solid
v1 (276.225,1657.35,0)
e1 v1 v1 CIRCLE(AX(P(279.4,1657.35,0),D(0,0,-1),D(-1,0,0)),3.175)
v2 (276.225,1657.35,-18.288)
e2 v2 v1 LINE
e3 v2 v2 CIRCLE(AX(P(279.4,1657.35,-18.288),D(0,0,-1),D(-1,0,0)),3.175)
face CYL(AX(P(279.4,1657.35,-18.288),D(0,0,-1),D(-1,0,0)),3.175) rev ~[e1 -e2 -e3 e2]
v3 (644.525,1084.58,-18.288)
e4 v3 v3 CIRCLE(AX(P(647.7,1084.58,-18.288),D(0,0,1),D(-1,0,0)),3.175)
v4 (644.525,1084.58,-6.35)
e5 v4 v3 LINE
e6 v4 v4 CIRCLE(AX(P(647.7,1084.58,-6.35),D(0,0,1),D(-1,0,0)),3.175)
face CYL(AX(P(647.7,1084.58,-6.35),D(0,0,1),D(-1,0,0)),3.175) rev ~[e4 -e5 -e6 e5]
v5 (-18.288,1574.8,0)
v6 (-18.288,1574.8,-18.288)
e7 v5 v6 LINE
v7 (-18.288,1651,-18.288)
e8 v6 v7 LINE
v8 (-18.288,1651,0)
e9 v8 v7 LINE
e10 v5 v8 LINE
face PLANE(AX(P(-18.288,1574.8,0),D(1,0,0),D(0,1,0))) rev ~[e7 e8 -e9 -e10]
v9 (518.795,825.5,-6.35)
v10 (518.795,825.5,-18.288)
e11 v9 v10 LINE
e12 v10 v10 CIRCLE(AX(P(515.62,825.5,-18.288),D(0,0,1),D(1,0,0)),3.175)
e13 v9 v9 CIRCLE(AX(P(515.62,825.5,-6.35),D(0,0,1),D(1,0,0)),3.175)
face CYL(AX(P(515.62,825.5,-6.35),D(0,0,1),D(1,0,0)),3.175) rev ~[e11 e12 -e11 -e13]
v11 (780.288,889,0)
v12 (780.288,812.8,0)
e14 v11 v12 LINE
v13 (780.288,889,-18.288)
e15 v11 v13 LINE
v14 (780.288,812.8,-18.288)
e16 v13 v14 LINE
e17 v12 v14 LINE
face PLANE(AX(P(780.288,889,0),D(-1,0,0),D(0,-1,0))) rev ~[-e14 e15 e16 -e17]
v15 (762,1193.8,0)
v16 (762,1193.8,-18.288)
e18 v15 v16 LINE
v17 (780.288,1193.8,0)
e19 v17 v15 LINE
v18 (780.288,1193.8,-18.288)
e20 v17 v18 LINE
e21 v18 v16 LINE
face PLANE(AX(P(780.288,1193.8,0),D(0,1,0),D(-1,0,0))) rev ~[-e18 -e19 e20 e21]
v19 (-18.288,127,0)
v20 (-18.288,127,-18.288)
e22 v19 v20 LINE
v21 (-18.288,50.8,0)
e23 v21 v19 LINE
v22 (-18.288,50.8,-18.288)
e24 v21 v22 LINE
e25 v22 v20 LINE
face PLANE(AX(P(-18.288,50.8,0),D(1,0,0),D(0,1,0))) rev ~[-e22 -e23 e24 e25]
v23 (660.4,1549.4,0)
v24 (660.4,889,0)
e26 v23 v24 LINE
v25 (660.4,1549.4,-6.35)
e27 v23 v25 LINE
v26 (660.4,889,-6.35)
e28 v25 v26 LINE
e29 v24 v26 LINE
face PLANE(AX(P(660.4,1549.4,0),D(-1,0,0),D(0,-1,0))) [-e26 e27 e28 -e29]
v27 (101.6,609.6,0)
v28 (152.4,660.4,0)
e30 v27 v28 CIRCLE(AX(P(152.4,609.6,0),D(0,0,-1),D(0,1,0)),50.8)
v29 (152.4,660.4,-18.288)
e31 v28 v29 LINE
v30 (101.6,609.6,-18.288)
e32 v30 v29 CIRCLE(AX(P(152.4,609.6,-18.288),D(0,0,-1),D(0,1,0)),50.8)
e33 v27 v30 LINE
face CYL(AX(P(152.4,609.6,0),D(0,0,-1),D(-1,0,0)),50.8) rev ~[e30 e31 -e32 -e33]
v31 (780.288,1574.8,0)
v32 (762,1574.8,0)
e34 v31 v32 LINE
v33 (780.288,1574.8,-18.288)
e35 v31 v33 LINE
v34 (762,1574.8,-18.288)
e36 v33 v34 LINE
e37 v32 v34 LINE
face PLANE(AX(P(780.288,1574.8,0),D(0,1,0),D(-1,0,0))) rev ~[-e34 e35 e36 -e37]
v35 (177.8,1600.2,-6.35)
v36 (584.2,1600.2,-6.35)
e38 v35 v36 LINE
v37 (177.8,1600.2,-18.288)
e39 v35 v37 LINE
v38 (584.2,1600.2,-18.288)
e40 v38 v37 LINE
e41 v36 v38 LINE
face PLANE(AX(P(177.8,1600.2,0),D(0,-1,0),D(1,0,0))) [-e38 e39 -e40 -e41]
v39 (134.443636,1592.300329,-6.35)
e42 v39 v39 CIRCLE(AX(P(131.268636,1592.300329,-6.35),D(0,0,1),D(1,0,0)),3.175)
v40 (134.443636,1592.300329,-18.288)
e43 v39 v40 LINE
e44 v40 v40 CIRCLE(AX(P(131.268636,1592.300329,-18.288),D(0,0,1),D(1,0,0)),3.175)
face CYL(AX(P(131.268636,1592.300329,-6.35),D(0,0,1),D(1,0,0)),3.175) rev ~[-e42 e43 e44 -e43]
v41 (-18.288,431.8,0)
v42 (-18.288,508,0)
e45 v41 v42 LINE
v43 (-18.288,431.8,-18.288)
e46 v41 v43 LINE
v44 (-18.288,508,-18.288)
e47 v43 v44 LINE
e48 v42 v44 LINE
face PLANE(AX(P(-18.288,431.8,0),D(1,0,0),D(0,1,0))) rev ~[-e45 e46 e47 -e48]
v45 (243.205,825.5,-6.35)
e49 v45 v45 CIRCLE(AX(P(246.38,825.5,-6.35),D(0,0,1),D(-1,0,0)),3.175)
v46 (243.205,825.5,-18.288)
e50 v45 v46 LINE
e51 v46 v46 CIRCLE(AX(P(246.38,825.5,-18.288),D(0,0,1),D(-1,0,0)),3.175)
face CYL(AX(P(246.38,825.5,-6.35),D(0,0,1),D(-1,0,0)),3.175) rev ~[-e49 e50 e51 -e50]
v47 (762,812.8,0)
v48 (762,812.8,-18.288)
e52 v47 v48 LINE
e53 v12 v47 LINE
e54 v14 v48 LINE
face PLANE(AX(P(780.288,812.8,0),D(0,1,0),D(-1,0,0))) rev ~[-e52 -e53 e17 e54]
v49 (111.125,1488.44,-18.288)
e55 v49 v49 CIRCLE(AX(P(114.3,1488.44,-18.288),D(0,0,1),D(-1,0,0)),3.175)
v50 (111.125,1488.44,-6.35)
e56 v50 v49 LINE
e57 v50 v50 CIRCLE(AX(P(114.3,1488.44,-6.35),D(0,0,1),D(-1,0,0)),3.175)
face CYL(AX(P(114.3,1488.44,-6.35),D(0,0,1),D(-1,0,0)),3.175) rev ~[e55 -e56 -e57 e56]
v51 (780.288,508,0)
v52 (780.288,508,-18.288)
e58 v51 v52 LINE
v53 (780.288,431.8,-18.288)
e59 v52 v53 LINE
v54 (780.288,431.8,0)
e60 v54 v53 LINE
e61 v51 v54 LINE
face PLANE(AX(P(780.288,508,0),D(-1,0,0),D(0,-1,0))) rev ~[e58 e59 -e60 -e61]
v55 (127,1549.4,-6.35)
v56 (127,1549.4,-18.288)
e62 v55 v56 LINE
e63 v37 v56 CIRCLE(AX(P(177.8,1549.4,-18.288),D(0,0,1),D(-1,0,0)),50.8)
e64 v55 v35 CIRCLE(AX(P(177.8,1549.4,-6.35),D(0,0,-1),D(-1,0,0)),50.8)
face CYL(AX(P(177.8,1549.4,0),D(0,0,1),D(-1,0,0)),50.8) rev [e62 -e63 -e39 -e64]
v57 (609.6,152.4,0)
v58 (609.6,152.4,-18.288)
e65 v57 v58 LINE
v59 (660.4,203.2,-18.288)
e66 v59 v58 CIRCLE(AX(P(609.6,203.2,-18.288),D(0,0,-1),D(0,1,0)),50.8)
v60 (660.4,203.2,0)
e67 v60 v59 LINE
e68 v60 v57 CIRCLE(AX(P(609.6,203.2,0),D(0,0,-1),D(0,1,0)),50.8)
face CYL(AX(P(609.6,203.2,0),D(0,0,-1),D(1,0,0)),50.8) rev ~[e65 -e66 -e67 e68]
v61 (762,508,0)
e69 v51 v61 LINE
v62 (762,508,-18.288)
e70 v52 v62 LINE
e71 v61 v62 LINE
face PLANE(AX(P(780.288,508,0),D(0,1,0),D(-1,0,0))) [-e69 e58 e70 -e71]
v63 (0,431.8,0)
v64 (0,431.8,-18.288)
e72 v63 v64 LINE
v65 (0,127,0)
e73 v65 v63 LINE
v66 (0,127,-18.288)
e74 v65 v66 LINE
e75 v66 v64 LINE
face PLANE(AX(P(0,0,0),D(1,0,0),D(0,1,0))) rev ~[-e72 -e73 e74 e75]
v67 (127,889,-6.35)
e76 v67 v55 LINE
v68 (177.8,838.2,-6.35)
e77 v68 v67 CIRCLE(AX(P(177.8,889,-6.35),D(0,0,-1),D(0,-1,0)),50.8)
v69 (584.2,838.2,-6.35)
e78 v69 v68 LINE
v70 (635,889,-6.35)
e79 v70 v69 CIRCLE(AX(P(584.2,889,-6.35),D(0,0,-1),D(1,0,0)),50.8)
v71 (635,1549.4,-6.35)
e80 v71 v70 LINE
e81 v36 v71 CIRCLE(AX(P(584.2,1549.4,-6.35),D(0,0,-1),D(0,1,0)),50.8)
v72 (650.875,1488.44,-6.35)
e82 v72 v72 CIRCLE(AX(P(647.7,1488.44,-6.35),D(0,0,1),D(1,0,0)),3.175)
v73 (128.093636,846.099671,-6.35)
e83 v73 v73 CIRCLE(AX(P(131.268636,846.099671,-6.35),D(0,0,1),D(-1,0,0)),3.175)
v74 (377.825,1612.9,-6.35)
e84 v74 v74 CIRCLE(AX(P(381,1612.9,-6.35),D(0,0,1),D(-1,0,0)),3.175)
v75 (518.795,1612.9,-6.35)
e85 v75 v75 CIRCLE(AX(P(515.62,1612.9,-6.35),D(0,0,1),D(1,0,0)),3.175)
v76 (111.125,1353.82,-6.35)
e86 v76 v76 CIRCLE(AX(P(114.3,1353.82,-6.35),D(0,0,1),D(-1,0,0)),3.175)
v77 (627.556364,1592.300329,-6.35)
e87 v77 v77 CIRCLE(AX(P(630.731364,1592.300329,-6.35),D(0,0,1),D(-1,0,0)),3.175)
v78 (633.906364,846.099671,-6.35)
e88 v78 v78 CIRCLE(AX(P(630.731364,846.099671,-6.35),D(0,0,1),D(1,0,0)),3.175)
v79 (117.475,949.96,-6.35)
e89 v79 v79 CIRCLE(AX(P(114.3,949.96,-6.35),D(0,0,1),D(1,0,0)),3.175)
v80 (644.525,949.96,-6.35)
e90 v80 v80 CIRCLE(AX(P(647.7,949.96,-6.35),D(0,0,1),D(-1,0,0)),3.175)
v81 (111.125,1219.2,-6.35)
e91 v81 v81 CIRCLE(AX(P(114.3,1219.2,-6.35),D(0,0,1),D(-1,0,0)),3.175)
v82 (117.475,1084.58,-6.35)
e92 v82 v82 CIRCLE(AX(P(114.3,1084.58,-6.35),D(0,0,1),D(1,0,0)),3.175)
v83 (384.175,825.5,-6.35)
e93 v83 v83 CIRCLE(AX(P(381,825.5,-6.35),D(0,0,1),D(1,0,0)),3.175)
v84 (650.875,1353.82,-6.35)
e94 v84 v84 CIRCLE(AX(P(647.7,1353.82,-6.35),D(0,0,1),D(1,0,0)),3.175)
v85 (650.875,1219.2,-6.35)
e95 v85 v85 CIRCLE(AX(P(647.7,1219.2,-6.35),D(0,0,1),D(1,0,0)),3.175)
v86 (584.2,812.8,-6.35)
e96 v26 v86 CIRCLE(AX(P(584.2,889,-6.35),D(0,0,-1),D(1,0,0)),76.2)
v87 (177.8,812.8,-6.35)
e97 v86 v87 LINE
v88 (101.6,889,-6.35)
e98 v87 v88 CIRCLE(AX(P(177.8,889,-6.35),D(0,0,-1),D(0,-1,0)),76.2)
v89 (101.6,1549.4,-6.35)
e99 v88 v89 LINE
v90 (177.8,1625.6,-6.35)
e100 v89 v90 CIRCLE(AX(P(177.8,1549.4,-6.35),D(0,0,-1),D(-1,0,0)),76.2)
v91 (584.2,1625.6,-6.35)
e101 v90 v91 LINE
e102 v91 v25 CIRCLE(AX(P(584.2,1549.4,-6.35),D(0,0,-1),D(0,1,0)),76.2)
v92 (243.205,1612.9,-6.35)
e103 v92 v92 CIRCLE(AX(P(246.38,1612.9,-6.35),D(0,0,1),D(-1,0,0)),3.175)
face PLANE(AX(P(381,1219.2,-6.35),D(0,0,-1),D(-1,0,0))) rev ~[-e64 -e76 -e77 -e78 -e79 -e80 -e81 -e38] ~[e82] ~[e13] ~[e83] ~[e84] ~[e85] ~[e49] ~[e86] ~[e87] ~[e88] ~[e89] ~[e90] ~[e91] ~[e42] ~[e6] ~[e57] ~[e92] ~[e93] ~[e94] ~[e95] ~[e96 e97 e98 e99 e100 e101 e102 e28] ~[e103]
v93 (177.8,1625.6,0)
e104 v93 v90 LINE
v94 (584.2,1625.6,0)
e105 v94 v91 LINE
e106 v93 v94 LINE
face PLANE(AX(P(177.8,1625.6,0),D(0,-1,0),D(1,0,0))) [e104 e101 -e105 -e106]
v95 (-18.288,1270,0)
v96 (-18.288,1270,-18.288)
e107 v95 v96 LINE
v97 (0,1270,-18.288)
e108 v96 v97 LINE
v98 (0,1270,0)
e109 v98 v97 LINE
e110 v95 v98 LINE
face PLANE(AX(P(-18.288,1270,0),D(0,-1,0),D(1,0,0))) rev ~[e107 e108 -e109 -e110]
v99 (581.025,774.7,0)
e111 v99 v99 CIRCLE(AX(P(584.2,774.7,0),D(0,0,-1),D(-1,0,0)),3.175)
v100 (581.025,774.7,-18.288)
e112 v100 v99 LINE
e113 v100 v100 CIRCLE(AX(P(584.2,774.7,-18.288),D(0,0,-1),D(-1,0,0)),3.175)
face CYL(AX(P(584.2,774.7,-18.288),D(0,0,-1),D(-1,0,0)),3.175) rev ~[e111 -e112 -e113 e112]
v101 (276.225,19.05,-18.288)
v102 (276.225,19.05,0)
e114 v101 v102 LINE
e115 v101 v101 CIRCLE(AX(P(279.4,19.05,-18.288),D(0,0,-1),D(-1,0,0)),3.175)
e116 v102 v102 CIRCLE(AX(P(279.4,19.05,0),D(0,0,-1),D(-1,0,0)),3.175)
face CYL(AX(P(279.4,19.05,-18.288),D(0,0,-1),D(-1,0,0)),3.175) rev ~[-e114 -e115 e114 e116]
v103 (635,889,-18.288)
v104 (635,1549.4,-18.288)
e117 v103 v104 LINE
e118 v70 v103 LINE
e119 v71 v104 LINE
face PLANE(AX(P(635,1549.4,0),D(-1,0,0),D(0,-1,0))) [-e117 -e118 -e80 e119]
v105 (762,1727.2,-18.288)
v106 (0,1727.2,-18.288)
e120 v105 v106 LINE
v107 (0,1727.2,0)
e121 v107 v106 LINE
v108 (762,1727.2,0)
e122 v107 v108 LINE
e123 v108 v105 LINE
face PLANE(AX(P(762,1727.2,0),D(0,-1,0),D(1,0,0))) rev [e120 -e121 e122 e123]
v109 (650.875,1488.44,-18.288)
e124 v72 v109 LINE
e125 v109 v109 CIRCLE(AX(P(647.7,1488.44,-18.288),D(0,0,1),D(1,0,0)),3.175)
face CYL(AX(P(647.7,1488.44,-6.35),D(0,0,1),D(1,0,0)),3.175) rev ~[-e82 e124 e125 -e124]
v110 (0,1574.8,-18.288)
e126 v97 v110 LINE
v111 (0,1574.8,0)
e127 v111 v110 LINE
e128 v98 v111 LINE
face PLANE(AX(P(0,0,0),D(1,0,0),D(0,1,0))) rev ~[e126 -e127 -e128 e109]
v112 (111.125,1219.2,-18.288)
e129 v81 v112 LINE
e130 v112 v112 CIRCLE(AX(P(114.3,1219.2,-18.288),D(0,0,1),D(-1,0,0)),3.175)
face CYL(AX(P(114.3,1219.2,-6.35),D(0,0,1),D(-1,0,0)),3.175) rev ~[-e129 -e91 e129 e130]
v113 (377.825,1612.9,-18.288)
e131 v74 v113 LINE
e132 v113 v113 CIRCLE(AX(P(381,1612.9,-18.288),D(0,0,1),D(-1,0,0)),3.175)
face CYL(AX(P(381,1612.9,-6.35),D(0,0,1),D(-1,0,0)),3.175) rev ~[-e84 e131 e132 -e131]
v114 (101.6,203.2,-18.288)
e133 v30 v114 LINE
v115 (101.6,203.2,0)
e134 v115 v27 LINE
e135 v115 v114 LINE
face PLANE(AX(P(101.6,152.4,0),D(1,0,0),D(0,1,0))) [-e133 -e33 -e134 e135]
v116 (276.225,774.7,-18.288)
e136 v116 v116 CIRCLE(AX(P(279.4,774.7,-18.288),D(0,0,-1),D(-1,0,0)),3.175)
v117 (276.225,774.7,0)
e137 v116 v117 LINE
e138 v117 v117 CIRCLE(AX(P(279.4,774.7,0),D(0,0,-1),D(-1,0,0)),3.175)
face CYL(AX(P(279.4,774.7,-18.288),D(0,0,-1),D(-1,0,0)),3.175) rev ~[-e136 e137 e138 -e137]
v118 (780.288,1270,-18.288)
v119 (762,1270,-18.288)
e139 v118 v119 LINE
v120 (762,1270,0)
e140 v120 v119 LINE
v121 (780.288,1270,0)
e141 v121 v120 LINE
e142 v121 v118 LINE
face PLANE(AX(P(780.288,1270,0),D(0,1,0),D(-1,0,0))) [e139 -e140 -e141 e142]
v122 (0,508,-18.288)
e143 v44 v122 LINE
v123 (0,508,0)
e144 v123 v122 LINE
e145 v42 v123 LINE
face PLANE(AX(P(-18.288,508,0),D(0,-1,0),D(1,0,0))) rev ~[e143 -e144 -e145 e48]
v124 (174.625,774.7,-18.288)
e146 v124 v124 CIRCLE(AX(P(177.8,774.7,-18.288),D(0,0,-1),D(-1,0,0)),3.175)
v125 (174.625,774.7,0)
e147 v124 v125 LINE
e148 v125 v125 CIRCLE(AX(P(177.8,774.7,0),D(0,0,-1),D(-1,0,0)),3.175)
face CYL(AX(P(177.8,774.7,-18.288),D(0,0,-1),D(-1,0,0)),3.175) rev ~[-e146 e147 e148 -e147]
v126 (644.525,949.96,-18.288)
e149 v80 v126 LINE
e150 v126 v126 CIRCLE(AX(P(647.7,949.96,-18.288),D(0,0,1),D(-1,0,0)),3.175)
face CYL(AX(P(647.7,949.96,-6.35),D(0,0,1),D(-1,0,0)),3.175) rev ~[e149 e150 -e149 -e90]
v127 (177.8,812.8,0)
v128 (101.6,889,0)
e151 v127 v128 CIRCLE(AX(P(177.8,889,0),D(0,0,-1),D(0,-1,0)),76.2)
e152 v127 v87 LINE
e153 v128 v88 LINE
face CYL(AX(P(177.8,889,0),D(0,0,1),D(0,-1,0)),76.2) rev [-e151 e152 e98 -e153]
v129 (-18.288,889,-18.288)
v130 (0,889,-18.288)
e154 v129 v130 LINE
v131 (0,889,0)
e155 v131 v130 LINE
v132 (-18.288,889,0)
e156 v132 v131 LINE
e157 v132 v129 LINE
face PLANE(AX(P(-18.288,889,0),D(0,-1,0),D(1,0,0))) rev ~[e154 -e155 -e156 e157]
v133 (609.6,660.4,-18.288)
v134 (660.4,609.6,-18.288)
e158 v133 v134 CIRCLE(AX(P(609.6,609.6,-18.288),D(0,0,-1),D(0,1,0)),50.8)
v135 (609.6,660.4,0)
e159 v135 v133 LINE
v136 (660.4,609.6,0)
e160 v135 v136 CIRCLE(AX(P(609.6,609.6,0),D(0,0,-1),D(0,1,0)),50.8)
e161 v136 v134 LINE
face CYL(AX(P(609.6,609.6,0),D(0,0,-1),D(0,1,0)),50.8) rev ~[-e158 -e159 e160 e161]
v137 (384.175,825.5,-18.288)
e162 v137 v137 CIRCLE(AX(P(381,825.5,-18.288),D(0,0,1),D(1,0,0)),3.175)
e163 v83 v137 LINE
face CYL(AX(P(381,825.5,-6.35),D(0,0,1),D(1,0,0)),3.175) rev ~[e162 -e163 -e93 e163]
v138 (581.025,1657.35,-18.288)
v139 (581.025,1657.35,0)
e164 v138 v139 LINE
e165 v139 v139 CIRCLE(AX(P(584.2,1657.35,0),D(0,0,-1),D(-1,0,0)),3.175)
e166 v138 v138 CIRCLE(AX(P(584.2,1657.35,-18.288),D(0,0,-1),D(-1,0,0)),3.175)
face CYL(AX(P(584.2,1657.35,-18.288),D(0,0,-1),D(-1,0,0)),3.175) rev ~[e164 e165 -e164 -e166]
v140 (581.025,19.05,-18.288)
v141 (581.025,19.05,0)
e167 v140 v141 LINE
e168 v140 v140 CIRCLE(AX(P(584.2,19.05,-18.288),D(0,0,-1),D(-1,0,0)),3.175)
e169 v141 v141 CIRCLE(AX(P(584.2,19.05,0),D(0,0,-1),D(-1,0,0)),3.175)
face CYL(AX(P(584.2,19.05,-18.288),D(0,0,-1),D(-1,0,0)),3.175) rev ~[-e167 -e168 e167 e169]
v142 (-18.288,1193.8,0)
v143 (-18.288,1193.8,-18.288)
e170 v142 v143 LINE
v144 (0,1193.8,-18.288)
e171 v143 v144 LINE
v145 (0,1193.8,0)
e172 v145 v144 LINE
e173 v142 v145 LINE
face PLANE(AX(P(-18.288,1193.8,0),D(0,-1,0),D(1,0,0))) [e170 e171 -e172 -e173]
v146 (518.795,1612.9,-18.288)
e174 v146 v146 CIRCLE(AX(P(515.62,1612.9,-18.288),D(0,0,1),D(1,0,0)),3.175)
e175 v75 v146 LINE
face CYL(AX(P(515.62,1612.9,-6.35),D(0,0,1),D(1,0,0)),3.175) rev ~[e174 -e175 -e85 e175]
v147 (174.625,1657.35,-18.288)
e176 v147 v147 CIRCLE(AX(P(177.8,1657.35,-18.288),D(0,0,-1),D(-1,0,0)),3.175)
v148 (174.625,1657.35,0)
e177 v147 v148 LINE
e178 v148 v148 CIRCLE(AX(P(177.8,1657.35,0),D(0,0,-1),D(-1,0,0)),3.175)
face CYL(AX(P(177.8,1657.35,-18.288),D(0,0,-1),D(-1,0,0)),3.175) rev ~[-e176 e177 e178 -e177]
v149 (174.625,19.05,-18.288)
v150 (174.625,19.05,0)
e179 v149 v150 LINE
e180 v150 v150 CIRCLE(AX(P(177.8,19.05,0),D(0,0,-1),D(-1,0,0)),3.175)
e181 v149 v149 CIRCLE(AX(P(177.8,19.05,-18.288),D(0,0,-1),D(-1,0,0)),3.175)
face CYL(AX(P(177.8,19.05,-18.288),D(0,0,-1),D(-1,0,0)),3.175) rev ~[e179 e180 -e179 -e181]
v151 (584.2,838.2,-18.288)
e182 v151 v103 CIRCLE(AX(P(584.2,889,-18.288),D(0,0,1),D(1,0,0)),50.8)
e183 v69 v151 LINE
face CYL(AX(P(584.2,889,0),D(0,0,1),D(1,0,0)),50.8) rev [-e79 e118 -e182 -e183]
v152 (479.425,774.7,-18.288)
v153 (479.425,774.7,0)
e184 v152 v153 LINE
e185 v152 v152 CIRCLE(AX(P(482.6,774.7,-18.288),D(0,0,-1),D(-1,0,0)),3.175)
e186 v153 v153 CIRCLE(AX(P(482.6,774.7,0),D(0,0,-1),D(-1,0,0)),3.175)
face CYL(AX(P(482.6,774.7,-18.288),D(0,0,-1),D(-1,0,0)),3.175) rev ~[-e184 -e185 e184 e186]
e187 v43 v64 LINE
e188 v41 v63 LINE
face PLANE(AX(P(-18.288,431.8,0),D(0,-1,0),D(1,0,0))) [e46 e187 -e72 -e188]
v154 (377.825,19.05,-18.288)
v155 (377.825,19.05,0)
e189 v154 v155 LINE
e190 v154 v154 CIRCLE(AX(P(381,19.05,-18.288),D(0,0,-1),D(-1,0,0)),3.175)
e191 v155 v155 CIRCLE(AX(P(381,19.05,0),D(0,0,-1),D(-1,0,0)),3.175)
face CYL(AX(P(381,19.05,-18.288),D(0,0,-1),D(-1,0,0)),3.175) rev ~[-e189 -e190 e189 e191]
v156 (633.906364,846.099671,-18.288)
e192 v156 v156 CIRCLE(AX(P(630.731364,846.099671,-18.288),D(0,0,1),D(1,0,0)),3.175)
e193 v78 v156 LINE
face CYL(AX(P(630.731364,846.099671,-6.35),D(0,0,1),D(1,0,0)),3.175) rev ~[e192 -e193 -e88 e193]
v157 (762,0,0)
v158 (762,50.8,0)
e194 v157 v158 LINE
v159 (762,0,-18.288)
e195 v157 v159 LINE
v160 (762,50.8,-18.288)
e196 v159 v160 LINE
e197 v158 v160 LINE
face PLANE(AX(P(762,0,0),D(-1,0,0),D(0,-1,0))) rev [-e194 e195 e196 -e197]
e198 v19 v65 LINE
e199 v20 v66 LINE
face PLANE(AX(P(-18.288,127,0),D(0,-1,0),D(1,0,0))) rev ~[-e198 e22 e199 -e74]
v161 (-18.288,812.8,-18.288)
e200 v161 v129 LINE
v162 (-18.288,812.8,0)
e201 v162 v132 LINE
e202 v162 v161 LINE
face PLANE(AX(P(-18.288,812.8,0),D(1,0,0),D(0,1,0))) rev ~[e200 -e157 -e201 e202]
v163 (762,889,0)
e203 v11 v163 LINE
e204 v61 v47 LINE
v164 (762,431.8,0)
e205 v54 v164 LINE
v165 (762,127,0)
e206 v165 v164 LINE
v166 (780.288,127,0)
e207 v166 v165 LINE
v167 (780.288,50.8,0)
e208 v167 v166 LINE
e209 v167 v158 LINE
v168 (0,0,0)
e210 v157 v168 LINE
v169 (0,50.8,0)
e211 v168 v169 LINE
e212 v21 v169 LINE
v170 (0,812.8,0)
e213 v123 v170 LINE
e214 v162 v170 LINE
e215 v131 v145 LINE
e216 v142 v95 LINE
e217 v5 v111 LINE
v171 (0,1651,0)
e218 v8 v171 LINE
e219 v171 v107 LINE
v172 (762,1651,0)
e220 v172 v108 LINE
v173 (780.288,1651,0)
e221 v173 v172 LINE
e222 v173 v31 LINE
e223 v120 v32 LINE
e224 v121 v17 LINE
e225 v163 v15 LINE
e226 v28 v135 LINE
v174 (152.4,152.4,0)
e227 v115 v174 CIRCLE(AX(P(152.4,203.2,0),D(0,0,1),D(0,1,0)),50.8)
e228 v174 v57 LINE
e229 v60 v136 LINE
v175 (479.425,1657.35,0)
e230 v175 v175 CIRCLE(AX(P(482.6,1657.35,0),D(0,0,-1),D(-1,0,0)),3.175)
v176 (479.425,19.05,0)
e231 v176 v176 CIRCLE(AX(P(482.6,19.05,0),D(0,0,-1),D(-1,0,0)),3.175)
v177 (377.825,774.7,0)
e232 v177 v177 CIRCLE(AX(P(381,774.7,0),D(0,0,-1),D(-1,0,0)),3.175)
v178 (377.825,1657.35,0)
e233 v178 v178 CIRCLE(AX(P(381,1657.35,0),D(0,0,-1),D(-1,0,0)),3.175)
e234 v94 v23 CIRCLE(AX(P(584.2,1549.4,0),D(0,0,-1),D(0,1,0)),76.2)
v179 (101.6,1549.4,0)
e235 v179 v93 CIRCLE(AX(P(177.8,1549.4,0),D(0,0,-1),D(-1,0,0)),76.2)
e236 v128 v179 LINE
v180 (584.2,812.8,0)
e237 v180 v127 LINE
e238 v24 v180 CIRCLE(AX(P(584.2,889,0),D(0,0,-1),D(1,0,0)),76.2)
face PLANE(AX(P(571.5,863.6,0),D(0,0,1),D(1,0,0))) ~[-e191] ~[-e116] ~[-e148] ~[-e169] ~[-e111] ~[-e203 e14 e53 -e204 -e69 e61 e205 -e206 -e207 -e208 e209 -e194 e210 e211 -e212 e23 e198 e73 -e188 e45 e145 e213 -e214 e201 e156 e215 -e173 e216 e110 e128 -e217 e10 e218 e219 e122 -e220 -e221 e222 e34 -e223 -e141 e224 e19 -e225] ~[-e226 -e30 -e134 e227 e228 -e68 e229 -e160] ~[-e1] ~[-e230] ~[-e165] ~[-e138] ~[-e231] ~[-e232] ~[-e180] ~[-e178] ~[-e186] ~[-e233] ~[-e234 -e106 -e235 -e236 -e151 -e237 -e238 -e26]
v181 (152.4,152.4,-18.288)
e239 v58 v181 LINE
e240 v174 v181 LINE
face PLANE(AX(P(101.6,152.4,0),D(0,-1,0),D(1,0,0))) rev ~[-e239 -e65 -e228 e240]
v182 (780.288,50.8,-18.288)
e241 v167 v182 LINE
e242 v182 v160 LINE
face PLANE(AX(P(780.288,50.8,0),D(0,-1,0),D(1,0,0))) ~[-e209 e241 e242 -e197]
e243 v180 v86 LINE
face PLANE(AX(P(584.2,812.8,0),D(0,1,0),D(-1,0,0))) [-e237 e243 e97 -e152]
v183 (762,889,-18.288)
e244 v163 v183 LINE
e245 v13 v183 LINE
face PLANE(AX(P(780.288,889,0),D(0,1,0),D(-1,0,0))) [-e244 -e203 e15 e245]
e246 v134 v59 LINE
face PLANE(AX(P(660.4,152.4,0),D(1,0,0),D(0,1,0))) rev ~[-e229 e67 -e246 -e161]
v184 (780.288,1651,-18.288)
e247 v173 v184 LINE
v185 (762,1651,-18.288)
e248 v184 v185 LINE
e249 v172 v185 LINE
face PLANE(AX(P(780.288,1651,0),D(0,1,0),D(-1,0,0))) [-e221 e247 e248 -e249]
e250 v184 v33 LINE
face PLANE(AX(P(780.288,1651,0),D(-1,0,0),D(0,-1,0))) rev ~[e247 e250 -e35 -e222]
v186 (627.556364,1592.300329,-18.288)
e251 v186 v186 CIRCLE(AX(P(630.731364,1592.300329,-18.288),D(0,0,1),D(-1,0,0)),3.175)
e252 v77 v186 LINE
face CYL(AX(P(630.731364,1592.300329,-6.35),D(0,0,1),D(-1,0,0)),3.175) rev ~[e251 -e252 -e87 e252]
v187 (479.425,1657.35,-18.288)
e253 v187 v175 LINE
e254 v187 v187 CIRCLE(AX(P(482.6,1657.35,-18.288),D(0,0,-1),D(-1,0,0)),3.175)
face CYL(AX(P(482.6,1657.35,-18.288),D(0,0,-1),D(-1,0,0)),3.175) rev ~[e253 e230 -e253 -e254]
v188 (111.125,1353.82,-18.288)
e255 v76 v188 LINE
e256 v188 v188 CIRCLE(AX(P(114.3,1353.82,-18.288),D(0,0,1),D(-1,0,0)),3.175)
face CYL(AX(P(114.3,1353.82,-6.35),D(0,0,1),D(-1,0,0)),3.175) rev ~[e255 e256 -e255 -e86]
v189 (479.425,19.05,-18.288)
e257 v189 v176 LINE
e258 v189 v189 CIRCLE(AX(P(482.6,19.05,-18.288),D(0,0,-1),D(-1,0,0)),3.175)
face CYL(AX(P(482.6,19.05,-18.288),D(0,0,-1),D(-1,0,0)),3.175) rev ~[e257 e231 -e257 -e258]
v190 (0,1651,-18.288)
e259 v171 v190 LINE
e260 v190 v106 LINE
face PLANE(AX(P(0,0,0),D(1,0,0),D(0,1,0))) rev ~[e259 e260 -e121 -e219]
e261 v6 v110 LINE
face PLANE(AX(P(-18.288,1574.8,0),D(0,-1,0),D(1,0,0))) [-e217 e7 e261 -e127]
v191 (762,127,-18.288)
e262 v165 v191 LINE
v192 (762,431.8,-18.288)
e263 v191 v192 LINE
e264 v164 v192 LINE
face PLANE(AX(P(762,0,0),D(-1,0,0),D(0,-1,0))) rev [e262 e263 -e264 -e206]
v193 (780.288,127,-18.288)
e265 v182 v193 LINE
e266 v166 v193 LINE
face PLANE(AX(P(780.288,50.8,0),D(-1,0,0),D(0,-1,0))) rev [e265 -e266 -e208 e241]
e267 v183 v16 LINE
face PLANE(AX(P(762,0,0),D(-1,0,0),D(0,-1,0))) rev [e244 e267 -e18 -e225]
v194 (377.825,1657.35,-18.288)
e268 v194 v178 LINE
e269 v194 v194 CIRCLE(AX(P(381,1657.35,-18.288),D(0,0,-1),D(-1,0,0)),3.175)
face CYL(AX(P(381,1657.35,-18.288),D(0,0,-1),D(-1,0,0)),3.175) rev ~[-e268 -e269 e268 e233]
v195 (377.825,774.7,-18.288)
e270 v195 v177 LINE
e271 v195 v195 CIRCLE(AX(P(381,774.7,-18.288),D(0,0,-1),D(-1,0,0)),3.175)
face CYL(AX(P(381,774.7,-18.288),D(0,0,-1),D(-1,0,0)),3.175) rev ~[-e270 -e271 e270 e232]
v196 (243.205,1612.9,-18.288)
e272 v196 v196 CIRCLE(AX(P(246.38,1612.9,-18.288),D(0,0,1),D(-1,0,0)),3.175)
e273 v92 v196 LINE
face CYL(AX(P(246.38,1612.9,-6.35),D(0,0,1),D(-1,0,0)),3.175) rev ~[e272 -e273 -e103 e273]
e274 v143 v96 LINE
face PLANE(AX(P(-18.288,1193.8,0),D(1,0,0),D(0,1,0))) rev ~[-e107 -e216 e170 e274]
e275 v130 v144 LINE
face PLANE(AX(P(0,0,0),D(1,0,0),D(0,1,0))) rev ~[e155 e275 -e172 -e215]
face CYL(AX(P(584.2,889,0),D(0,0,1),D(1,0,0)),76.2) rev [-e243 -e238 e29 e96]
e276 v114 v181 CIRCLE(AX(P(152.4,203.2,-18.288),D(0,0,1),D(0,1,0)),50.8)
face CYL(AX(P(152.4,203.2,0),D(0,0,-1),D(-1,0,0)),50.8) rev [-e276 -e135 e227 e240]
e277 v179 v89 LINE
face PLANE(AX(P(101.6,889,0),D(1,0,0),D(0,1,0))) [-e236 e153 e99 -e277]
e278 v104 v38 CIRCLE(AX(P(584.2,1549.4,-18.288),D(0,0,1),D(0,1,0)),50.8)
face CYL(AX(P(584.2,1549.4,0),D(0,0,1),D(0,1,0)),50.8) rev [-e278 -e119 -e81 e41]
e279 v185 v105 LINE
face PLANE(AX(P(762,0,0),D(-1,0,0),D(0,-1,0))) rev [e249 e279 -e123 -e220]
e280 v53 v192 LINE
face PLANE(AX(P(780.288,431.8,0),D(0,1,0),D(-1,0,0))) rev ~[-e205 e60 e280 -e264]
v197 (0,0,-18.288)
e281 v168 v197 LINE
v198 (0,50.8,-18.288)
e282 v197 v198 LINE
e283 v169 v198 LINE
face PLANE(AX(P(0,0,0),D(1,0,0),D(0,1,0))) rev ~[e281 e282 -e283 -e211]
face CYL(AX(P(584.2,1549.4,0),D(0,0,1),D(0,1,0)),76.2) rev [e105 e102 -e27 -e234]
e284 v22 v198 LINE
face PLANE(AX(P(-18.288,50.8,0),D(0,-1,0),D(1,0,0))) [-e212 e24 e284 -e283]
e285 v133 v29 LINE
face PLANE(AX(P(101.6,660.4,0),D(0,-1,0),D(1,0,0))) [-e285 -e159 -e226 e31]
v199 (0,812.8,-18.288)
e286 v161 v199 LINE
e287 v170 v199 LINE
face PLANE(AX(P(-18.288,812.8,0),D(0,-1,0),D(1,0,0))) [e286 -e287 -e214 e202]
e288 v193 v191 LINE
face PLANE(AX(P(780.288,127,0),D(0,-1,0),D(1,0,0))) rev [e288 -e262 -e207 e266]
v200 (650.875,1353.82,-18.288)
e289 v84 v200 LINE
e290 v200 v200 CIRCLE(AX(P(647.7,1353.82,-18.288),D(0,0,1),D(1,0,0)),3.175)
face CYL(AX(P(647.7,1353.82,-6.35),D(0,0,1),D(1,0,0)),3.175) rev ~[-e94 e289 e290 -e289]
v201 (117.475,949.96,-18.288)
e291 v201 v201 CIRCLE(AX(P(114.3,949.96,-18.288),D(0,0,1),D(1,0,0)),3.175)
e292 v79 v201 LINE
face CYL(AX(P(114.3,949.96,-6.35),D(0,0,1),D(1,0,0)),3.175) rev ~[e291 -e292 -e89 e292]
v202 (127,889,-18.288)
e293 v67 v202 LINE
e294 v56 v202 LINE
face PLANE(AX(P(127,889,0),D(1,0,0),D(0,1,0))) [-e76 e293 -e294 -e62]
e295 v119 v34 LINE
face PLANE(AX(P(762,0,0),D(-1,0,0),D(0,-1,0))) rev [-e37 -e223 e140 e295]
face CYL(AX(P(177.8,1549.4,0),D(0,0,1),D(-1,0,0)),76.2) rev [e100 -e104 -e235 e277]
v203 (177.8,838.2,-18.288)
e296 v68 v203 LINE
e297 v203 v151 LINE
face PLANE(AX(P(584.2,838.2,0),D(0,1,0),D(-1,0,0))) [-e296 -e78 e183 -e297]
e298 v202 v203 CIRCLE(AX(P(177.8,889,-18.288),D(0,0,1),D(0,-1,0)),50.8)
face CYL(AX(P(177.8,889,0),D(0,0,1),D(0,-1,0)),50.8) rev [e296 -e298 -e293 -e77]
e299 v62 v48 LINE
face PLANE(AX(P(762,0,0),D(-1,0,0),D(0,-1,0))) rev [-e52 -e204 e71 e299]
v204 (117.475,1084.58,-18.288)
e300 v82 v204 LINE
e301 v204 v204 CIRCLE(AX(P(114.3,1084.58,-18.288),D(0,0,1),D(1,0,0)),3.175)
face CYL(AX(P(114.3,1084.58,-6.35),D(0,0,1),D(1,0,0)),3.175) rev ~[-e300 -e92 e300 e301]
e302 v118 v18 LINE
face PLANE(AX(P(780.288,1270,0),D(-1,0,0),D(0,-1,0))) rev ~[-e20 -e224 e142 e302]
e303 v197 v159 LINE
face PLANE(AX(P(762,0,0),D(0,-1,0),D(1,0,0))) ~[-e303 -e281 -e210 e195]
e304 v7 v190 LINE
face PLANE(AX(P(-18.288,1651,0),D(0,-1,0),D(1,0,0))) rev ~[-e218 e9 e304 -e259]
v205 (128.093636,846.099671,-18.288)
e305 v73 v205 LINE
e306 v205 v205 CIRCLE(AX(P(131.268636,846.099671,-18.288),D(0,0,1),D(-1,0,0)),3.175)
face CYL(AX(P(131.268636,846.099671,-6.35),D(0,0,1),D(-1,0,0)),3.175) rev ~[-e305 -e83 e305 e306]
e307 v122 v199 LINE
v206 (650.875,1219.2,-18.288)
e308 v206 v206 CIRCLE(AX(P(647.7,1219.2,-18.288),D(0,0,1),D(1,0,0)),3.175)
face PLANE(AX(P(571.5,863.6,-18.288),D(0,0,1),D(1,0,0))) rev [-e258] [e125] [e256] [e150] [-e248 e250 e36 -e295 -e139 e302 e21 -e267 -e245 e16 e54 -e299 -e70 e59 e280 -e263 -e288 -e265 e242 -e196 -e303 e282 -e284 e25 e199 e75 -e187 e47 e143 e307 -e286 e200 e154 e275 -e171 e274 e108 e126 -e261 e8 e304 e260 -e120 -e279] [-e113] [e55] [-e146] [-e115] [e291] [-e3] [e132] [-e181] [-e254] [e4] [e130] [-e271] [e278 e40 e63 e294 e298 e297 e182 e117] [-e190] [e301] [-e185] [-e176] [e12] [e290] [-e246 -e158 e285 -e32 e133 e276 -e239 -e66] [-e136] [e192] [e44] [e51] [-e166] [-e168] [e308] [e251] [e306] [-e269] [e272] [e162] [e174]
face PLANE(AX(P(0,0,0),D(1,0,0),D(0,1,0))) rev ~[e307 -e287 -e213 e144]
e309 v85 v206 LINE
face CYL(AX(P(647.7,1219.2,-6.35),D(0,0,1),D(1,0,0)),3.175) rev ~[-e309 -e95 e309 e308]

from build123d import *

# Parameters (mm, degrees)
SKETCH2_W               = 381
SKETCH2_H               = 1727.2
BOSS_EXTRUDE1_DEPTH     = 18.288
SKETCH3_W               = 18.288
SKETCH3_H               = 76.2
BOSS_EXTRUDE2_DEPTH     = 18.288
LPATTERN1_COUNT         = 5
LPATTERN1_PITCH         = 381
MIRROR1_COPY_1_SKETCH_W = 18.288
MIRROR1_COPY_1_SKETCH_H = 76.2
MIRROR1_COPY_1_DEPTH    = 18.288
MIRROR1_COPY_2_SKETCH_W = 18.288
MIRROR1_COPY_2_SKETCH_H = 76.2
MIRROR1_COPY_2_DEPTH    = 18.288
MIRROR1_COPY_3_SKETCH_W = 18.288
MIRROR1_COPY_3_SKETCH_H = 76.2
MIRROR1_COPY_3_DEPTH    = 18.288
MIRROR1_COPY_4_SKETCH_W = 18.288
MIRROR1_COPY_4_SKETCH_H = 76.2
MIRROR1_COPY_4_DEPTH    = 18.288
CUT_EXTRUDE2_DEPTH      = 1896.363726014
CUT_EXTRUDE4_DEPTH      = 6.35
SKETCH7_R               = 3.175
CUT_EXTRUDE6_DEPTH      = 25.4
SKETCH8_W               = 558.8
SKETCH8_H               = 508
CUT_EXTRUDE7_DEPTH      = 25.4
FILLET1_R               = 50.8
SKETCH10_R              = 3.175
CUT_EXTRUDE8_DEPTH      = 25.4
SKETCH12_R              = 3.175
CUT_EXTRUDE9_DEPTH      = 1896.363726014
SKETCH13_R              = 3.175
CUT_EXTRUDE10_DEPTH     = 1896.363726014


with BuildPart() as part:
    # Sketch2 → Boss-Extrude1 (new body)
    with BuildSketch(Plane.XY):
        with Locations((190.5, 863.6)):
            Rectangle(SKETCH2_W, SKETCH2_H)
    boss_extrude1 = extrude(amount=-BOSS_EXTRUDE1_DEPTH)

    # Sketch3 → Boss-Extrude2 (add)
    with BuildSketch(Plane.XY):
        with Locations((-9.144, 88.9)):
            Rectangle(SKETCH3_W, SKETCH3_H)
    boss_extrude2 = extrude(amount=-BOSS_EXTRUDE2_DEPTH)

    # LPattern1: Boss-Extrude2 ×5
    with Locations(*[(0, i * LPATTERN1_PITCH, 0) for i in range(1, LPATTERN1_COUNT)]):
        add(boss_extrude2)

    # Mirror1: Boss-Extrude1, Boss-Extrude2 across plane
    add(boss_extrude1.mirror(Plane(origin=(381, 0, -18.288), x_dir=(0, 0, 1), z_dir=(1, 0, 0))))
    add(boss_extrude2.mirror(Plane(origin=(381, 0, -18.288), x_dir=(0, 0, 1), z_dir=(1, 0, 0))))

    # Mirror1 copy 1 sketch → Mirror1 copy 1 (add)
    with BuildSketch(Plane(origin=(762, 381, 0), x_dir=(-1, 0, 0), z_dir=(0, 0, 1))):
        with Locations((-9.144, -88.9)):
            Rectangle(MIRROR1_COPY_1_SKETCH_W, MIRROR1_COPY_1_SKETCH_H)
    extrude(amount=-MIRROR1_COPY_1_DEPTH)

    # Mirror1 copy 2 sketch → Mirror1 copy 2 (add)
    with BuildSketch(Plane(origin=(762, 762, 0), x_dir=(-1, 0, 0), z_dir=(0, 0, 1))):
        with Locations((-9.144, -88.9)):
            Rectangle(MIRROR1_COPY_2_SKETCH_W, MIRROR1_COPY_2_SKETCH_H)
    extrude(amount=-MIRROR1_COPY_2_DEPTH)

    # Mirror1 copy 3 sketch → Mirror1 copy 3 (add)
    with BuildSketch(Plane(origin=(762, 1143, 0), x_dir=(-1, 0, 0), z_dir=(0, 0, 1))):
        with Locations((-9.144, -88.9)):
            Rectangle(MIRROR1_COPY_3_SKETCH_W, MIRROR1_COPY_3_SKETCH_H)
    extrude(amount=-MIRROR1_COPY_3_DEPTH)

    # Mirror1 copy 4 sketch → Mirror1 copy 4 (add)
    with BuildSketch(Plane(origin=(762, 1524, 0), x_dir=(-1, 0, 0), z_dir=(0, 0, 1))):
        with Locations((-9.144, -88.9)):
            Rectangle(MIRROR1_COPY_4_SKETCH_W, MIRROR1_COPY_4_SKETCH_H)
    extrude(amount=-MIRROR1_COPY_4_DEPTH)

    # Sketch4 → Cut-Extrude2 (cut, through all)
    with BuildSketch(Plane.XY):
        with BuildLine():
            Line((177.8, 1600.2), (584.2, 1600.2))
            ThreePointArc((584.2, 1600.2), (620.121024484, 1585.321024484), (635, 1549.4))
            Line((635, 1549.4), (635, 889))
            ThreePointArc((635, 889), (620.121024484, 853.078975516), (584.2, 838.2))
            Line((584.2, 838.2), (177.8, 838.2))
            ThreePointArc((177.8, 838.2), (141.878975516, 853.078975516), (127, 889))
            Line((127, 889), (127, 1549.4))
            ThreePointArc((127, 1549.4), (141.878975516, 1585.321024484), (177.8, 1600.2))
        make_face()
    extrude(amount=-CUT_EXTRUDE2_DEPTH, mode=Mode.SUBTRACT)

    # Sketch5 → Cut-Extrude4 (cut)
    with BuildSketch(Plane.XY):
        with BuildLine():
            Line((177.8, 1625.6), (584.2, 1625.6))
            ThreePointArc((584.2, 1625.6), (638.081536726, 1603.281536726), (660.4, 1549.4))
            Line((660.4, 1549.4), (660.4, 889))
            ThreePointArc((660.4, 889), (638.081536726, 835.118463274), (584.2, 812.8))
            Line((584.2, 812.8), (177.8, 812.8))
            ThreePointArc((177.8, 812.8), (123.918463274, 835.118463274), (101.6, 889))
            Line((101.6, 889), (101.6, 1549.4))
            ThreePointArc((101.6, 1549.4), (123.918463274, 1603.281536726), (177.8, 1625.6))
        make_face()
        with BuildLine():
            Line((177.8, 1600.2), (584.2, 1600.2))
            ThreePointArc((584.2, 1600.2), (620.121024484, 1585.321024484), (635, 1549.4))
            Line((635, 1549.4), (635, 889))
            ThreePointArc((635, 889), (620.121024484, 853.078975516), (584.2, 838.2))
            Line((584.2, 838.2), (177.8, 838.2))
            ThreePointArc((177.8, 838.2), (141.878975516, 853.078975516), (127, 889))
            Line((127, 889), (127, 1549.4))
            ThreePointArc((127, 1549.4), (141.878975516, 1585.321024484), (177.8, 1600.2))
        make_face(mode=Mode.SUBTRACT)
    extrude(amount=-CUT_EXTRUDE4_DEPTH, mode=Mode.SUBTRACT)

    # Sketch7 → Cut-Extrude6 (cut)
    with BuildSketch(Plane.XY.offset(-6.35)):
        with Locations((381, 825.5)):
            Circle(SKETCH7_R)
        with Locations((515.62, 825.5)):
            Circle(SKETCH7_R)
        with Locations(Location((246.38, 825.5, 0), (0, 0, 180))):
            Circle(SKETCH7_R)
        with Locations(Location((381, 1612.9, 0), (0, 0, 180))):
            Circle(SKETCH7_R)
        with Locations(Location((114.3, 1219.2, 0), (0, 0, 180))):
            Circle(SKETCH7_R)
        with Locations((515.62, 1612.9)):
            Circle(SKETCH7_R)
        with Locations(Location((246.38, 1612.9, 0), (0, 0, 180))):
            Circle(SKETCH7_R)
        with Locations(Location((114.3, 1353.82, 0), (0, 0, 180))):
            Circle(SKETCH7_R)
        with Locations(Location((114.3, 1488.44, 0), (0, 0, 180))):
            Circle(SKETCH7_R)
        with Locations((114.3, 949.96)):
            Circle(SKETCH7_R)
        with Locations((114.3, 1084.58)):
            Circle(SKETCH7_R)
        with Locations(Location((647.7, 1084.58, 0), (0, 0, 180))):
            Circle(SKETCH7_R)
        with Locations(Location((647.7, 949.96, 0), (0, 0, 180))):
            Circle(SKETCH7_R)
        with Locations((647.7, 1488.44)):
            Circle(SKETCH7_R)
        with Locations((647.7, 1353.82)):
            Circle(SKETCH7_R)
        with Locations((647.7, 1219.2)):
            Circle(SKETCH7_R)
    extrude(amount=-CUT_EXTRUDE6_DEPTH, mode=Mode.SUBTRACT)

    # Sketch8 → Cut-Extrude7 (cut)
    with BuildSketch(Plane.XY):
        with Locations((381, 406.4)):
            Rectangle(SKETCH8_W, SKETCH8_H)
    extrude(amount=-CUT_EXTRUDE7_DEPTH, mode=Mode.SUBTRACT)

    # Fillet1
    fillet1_edges = [part.edges().sort_by_distance(p)[0] for p in [
        (101.6, 152.4, -9.144),
        (101.6, 660.4, -9.144),
        (660.4, 660.4, -9.144),
        (660.4, 152.4, -9.144),
    ]]
    fillet(fillet1_edges, radius=FILLET1_R)

    # Sketch10 → Cut-Extrude8 (cut)
    with BuildSketch(Plane.XY.offset(-6.35)):
        with Locations((131.268636066, 1592.300329375)):
            Circle(SKETCH10_R)
        with Locations(Location((131.268636066, 846.099670625, 0), (0, 0, 180))):
            Circle(SKETCH10_R)
        with Locations((630.731363934, 846.099670625)):
            Circle(SKETCH10_R)
        with Locations(Location((630.731363934, 1592.300329375, 0), (0, 0, 180))):
            Circle(SKETCH10_R)
    extrude(amount=-CUT_EXTRUDE8_DEPTH, mode=Mode.SUBTRACT)

    # Sketch12 → Cut-Extrude9 (cut, through all)
    with BuildSketch(Plane(origin=(0, 0, -18.288), x_dir=(-1, 0, 0), z_dir=(0, 0, -1))):
        with Locations((-177.8, 774.7)):
            Circle(SKETCH12_R)
        with Locations((-279.4, 774.7)):
            Circle(SKETCH12_R)
        with Locations((-381, 774.7)):
            Circle(SKETCH12_R)
        with Locations((-482.6, 774.7)):
            Circle(SKETCH12_R)
        with Locations((-584.2, 774.7)):
            Circle(SKETCH12_R)
        with Locations((-177.8, 19.05)):
            Circle(SKETCH12_R)
        with Locations((-279.4, 19.05)):
            Circle(SKETCH12_R)
        with Locations((-381, 19.05)):
            Circle(SKETCH12_R)
        with Locations((-482.6, 19.05)):
            Circle(SKETCH12_R)
        with Locations((-584.2, 19.05)):
            Circle(SKETCH12_R)
    extrude(amount=-CUT_EXTRUDE9_DEPTH, mode=Mode.SUBTRACT)

    # Sketch13 → Cut-Extrude10 (cut, through all)
    with BuildSketch(Plane(origin=(0, 0, -18.288), x_dir=(-1, 0, 0), z_dir=(0, 0, -1))):
        with Locations((-584.2, 1657.35)):
            Circle(SKETCH13_R)
        with Locations((-482.6, 1657.35)):
            Circle(SKETCH13_R)
        with Locations((-381, 1657.35)):
            Circle(SKETCH13_R)
        with Locations((-279.4, 1657.35)):
            Circle(SKETCH13_R)
        with Locations((-177.8, 1657.35)):
            Circle(SKETCH13_R)
    extrude(amount=-CUT_EXTRUDE10_DEPTH, mode=Mode.SUBTRACT)


solid = part.part
